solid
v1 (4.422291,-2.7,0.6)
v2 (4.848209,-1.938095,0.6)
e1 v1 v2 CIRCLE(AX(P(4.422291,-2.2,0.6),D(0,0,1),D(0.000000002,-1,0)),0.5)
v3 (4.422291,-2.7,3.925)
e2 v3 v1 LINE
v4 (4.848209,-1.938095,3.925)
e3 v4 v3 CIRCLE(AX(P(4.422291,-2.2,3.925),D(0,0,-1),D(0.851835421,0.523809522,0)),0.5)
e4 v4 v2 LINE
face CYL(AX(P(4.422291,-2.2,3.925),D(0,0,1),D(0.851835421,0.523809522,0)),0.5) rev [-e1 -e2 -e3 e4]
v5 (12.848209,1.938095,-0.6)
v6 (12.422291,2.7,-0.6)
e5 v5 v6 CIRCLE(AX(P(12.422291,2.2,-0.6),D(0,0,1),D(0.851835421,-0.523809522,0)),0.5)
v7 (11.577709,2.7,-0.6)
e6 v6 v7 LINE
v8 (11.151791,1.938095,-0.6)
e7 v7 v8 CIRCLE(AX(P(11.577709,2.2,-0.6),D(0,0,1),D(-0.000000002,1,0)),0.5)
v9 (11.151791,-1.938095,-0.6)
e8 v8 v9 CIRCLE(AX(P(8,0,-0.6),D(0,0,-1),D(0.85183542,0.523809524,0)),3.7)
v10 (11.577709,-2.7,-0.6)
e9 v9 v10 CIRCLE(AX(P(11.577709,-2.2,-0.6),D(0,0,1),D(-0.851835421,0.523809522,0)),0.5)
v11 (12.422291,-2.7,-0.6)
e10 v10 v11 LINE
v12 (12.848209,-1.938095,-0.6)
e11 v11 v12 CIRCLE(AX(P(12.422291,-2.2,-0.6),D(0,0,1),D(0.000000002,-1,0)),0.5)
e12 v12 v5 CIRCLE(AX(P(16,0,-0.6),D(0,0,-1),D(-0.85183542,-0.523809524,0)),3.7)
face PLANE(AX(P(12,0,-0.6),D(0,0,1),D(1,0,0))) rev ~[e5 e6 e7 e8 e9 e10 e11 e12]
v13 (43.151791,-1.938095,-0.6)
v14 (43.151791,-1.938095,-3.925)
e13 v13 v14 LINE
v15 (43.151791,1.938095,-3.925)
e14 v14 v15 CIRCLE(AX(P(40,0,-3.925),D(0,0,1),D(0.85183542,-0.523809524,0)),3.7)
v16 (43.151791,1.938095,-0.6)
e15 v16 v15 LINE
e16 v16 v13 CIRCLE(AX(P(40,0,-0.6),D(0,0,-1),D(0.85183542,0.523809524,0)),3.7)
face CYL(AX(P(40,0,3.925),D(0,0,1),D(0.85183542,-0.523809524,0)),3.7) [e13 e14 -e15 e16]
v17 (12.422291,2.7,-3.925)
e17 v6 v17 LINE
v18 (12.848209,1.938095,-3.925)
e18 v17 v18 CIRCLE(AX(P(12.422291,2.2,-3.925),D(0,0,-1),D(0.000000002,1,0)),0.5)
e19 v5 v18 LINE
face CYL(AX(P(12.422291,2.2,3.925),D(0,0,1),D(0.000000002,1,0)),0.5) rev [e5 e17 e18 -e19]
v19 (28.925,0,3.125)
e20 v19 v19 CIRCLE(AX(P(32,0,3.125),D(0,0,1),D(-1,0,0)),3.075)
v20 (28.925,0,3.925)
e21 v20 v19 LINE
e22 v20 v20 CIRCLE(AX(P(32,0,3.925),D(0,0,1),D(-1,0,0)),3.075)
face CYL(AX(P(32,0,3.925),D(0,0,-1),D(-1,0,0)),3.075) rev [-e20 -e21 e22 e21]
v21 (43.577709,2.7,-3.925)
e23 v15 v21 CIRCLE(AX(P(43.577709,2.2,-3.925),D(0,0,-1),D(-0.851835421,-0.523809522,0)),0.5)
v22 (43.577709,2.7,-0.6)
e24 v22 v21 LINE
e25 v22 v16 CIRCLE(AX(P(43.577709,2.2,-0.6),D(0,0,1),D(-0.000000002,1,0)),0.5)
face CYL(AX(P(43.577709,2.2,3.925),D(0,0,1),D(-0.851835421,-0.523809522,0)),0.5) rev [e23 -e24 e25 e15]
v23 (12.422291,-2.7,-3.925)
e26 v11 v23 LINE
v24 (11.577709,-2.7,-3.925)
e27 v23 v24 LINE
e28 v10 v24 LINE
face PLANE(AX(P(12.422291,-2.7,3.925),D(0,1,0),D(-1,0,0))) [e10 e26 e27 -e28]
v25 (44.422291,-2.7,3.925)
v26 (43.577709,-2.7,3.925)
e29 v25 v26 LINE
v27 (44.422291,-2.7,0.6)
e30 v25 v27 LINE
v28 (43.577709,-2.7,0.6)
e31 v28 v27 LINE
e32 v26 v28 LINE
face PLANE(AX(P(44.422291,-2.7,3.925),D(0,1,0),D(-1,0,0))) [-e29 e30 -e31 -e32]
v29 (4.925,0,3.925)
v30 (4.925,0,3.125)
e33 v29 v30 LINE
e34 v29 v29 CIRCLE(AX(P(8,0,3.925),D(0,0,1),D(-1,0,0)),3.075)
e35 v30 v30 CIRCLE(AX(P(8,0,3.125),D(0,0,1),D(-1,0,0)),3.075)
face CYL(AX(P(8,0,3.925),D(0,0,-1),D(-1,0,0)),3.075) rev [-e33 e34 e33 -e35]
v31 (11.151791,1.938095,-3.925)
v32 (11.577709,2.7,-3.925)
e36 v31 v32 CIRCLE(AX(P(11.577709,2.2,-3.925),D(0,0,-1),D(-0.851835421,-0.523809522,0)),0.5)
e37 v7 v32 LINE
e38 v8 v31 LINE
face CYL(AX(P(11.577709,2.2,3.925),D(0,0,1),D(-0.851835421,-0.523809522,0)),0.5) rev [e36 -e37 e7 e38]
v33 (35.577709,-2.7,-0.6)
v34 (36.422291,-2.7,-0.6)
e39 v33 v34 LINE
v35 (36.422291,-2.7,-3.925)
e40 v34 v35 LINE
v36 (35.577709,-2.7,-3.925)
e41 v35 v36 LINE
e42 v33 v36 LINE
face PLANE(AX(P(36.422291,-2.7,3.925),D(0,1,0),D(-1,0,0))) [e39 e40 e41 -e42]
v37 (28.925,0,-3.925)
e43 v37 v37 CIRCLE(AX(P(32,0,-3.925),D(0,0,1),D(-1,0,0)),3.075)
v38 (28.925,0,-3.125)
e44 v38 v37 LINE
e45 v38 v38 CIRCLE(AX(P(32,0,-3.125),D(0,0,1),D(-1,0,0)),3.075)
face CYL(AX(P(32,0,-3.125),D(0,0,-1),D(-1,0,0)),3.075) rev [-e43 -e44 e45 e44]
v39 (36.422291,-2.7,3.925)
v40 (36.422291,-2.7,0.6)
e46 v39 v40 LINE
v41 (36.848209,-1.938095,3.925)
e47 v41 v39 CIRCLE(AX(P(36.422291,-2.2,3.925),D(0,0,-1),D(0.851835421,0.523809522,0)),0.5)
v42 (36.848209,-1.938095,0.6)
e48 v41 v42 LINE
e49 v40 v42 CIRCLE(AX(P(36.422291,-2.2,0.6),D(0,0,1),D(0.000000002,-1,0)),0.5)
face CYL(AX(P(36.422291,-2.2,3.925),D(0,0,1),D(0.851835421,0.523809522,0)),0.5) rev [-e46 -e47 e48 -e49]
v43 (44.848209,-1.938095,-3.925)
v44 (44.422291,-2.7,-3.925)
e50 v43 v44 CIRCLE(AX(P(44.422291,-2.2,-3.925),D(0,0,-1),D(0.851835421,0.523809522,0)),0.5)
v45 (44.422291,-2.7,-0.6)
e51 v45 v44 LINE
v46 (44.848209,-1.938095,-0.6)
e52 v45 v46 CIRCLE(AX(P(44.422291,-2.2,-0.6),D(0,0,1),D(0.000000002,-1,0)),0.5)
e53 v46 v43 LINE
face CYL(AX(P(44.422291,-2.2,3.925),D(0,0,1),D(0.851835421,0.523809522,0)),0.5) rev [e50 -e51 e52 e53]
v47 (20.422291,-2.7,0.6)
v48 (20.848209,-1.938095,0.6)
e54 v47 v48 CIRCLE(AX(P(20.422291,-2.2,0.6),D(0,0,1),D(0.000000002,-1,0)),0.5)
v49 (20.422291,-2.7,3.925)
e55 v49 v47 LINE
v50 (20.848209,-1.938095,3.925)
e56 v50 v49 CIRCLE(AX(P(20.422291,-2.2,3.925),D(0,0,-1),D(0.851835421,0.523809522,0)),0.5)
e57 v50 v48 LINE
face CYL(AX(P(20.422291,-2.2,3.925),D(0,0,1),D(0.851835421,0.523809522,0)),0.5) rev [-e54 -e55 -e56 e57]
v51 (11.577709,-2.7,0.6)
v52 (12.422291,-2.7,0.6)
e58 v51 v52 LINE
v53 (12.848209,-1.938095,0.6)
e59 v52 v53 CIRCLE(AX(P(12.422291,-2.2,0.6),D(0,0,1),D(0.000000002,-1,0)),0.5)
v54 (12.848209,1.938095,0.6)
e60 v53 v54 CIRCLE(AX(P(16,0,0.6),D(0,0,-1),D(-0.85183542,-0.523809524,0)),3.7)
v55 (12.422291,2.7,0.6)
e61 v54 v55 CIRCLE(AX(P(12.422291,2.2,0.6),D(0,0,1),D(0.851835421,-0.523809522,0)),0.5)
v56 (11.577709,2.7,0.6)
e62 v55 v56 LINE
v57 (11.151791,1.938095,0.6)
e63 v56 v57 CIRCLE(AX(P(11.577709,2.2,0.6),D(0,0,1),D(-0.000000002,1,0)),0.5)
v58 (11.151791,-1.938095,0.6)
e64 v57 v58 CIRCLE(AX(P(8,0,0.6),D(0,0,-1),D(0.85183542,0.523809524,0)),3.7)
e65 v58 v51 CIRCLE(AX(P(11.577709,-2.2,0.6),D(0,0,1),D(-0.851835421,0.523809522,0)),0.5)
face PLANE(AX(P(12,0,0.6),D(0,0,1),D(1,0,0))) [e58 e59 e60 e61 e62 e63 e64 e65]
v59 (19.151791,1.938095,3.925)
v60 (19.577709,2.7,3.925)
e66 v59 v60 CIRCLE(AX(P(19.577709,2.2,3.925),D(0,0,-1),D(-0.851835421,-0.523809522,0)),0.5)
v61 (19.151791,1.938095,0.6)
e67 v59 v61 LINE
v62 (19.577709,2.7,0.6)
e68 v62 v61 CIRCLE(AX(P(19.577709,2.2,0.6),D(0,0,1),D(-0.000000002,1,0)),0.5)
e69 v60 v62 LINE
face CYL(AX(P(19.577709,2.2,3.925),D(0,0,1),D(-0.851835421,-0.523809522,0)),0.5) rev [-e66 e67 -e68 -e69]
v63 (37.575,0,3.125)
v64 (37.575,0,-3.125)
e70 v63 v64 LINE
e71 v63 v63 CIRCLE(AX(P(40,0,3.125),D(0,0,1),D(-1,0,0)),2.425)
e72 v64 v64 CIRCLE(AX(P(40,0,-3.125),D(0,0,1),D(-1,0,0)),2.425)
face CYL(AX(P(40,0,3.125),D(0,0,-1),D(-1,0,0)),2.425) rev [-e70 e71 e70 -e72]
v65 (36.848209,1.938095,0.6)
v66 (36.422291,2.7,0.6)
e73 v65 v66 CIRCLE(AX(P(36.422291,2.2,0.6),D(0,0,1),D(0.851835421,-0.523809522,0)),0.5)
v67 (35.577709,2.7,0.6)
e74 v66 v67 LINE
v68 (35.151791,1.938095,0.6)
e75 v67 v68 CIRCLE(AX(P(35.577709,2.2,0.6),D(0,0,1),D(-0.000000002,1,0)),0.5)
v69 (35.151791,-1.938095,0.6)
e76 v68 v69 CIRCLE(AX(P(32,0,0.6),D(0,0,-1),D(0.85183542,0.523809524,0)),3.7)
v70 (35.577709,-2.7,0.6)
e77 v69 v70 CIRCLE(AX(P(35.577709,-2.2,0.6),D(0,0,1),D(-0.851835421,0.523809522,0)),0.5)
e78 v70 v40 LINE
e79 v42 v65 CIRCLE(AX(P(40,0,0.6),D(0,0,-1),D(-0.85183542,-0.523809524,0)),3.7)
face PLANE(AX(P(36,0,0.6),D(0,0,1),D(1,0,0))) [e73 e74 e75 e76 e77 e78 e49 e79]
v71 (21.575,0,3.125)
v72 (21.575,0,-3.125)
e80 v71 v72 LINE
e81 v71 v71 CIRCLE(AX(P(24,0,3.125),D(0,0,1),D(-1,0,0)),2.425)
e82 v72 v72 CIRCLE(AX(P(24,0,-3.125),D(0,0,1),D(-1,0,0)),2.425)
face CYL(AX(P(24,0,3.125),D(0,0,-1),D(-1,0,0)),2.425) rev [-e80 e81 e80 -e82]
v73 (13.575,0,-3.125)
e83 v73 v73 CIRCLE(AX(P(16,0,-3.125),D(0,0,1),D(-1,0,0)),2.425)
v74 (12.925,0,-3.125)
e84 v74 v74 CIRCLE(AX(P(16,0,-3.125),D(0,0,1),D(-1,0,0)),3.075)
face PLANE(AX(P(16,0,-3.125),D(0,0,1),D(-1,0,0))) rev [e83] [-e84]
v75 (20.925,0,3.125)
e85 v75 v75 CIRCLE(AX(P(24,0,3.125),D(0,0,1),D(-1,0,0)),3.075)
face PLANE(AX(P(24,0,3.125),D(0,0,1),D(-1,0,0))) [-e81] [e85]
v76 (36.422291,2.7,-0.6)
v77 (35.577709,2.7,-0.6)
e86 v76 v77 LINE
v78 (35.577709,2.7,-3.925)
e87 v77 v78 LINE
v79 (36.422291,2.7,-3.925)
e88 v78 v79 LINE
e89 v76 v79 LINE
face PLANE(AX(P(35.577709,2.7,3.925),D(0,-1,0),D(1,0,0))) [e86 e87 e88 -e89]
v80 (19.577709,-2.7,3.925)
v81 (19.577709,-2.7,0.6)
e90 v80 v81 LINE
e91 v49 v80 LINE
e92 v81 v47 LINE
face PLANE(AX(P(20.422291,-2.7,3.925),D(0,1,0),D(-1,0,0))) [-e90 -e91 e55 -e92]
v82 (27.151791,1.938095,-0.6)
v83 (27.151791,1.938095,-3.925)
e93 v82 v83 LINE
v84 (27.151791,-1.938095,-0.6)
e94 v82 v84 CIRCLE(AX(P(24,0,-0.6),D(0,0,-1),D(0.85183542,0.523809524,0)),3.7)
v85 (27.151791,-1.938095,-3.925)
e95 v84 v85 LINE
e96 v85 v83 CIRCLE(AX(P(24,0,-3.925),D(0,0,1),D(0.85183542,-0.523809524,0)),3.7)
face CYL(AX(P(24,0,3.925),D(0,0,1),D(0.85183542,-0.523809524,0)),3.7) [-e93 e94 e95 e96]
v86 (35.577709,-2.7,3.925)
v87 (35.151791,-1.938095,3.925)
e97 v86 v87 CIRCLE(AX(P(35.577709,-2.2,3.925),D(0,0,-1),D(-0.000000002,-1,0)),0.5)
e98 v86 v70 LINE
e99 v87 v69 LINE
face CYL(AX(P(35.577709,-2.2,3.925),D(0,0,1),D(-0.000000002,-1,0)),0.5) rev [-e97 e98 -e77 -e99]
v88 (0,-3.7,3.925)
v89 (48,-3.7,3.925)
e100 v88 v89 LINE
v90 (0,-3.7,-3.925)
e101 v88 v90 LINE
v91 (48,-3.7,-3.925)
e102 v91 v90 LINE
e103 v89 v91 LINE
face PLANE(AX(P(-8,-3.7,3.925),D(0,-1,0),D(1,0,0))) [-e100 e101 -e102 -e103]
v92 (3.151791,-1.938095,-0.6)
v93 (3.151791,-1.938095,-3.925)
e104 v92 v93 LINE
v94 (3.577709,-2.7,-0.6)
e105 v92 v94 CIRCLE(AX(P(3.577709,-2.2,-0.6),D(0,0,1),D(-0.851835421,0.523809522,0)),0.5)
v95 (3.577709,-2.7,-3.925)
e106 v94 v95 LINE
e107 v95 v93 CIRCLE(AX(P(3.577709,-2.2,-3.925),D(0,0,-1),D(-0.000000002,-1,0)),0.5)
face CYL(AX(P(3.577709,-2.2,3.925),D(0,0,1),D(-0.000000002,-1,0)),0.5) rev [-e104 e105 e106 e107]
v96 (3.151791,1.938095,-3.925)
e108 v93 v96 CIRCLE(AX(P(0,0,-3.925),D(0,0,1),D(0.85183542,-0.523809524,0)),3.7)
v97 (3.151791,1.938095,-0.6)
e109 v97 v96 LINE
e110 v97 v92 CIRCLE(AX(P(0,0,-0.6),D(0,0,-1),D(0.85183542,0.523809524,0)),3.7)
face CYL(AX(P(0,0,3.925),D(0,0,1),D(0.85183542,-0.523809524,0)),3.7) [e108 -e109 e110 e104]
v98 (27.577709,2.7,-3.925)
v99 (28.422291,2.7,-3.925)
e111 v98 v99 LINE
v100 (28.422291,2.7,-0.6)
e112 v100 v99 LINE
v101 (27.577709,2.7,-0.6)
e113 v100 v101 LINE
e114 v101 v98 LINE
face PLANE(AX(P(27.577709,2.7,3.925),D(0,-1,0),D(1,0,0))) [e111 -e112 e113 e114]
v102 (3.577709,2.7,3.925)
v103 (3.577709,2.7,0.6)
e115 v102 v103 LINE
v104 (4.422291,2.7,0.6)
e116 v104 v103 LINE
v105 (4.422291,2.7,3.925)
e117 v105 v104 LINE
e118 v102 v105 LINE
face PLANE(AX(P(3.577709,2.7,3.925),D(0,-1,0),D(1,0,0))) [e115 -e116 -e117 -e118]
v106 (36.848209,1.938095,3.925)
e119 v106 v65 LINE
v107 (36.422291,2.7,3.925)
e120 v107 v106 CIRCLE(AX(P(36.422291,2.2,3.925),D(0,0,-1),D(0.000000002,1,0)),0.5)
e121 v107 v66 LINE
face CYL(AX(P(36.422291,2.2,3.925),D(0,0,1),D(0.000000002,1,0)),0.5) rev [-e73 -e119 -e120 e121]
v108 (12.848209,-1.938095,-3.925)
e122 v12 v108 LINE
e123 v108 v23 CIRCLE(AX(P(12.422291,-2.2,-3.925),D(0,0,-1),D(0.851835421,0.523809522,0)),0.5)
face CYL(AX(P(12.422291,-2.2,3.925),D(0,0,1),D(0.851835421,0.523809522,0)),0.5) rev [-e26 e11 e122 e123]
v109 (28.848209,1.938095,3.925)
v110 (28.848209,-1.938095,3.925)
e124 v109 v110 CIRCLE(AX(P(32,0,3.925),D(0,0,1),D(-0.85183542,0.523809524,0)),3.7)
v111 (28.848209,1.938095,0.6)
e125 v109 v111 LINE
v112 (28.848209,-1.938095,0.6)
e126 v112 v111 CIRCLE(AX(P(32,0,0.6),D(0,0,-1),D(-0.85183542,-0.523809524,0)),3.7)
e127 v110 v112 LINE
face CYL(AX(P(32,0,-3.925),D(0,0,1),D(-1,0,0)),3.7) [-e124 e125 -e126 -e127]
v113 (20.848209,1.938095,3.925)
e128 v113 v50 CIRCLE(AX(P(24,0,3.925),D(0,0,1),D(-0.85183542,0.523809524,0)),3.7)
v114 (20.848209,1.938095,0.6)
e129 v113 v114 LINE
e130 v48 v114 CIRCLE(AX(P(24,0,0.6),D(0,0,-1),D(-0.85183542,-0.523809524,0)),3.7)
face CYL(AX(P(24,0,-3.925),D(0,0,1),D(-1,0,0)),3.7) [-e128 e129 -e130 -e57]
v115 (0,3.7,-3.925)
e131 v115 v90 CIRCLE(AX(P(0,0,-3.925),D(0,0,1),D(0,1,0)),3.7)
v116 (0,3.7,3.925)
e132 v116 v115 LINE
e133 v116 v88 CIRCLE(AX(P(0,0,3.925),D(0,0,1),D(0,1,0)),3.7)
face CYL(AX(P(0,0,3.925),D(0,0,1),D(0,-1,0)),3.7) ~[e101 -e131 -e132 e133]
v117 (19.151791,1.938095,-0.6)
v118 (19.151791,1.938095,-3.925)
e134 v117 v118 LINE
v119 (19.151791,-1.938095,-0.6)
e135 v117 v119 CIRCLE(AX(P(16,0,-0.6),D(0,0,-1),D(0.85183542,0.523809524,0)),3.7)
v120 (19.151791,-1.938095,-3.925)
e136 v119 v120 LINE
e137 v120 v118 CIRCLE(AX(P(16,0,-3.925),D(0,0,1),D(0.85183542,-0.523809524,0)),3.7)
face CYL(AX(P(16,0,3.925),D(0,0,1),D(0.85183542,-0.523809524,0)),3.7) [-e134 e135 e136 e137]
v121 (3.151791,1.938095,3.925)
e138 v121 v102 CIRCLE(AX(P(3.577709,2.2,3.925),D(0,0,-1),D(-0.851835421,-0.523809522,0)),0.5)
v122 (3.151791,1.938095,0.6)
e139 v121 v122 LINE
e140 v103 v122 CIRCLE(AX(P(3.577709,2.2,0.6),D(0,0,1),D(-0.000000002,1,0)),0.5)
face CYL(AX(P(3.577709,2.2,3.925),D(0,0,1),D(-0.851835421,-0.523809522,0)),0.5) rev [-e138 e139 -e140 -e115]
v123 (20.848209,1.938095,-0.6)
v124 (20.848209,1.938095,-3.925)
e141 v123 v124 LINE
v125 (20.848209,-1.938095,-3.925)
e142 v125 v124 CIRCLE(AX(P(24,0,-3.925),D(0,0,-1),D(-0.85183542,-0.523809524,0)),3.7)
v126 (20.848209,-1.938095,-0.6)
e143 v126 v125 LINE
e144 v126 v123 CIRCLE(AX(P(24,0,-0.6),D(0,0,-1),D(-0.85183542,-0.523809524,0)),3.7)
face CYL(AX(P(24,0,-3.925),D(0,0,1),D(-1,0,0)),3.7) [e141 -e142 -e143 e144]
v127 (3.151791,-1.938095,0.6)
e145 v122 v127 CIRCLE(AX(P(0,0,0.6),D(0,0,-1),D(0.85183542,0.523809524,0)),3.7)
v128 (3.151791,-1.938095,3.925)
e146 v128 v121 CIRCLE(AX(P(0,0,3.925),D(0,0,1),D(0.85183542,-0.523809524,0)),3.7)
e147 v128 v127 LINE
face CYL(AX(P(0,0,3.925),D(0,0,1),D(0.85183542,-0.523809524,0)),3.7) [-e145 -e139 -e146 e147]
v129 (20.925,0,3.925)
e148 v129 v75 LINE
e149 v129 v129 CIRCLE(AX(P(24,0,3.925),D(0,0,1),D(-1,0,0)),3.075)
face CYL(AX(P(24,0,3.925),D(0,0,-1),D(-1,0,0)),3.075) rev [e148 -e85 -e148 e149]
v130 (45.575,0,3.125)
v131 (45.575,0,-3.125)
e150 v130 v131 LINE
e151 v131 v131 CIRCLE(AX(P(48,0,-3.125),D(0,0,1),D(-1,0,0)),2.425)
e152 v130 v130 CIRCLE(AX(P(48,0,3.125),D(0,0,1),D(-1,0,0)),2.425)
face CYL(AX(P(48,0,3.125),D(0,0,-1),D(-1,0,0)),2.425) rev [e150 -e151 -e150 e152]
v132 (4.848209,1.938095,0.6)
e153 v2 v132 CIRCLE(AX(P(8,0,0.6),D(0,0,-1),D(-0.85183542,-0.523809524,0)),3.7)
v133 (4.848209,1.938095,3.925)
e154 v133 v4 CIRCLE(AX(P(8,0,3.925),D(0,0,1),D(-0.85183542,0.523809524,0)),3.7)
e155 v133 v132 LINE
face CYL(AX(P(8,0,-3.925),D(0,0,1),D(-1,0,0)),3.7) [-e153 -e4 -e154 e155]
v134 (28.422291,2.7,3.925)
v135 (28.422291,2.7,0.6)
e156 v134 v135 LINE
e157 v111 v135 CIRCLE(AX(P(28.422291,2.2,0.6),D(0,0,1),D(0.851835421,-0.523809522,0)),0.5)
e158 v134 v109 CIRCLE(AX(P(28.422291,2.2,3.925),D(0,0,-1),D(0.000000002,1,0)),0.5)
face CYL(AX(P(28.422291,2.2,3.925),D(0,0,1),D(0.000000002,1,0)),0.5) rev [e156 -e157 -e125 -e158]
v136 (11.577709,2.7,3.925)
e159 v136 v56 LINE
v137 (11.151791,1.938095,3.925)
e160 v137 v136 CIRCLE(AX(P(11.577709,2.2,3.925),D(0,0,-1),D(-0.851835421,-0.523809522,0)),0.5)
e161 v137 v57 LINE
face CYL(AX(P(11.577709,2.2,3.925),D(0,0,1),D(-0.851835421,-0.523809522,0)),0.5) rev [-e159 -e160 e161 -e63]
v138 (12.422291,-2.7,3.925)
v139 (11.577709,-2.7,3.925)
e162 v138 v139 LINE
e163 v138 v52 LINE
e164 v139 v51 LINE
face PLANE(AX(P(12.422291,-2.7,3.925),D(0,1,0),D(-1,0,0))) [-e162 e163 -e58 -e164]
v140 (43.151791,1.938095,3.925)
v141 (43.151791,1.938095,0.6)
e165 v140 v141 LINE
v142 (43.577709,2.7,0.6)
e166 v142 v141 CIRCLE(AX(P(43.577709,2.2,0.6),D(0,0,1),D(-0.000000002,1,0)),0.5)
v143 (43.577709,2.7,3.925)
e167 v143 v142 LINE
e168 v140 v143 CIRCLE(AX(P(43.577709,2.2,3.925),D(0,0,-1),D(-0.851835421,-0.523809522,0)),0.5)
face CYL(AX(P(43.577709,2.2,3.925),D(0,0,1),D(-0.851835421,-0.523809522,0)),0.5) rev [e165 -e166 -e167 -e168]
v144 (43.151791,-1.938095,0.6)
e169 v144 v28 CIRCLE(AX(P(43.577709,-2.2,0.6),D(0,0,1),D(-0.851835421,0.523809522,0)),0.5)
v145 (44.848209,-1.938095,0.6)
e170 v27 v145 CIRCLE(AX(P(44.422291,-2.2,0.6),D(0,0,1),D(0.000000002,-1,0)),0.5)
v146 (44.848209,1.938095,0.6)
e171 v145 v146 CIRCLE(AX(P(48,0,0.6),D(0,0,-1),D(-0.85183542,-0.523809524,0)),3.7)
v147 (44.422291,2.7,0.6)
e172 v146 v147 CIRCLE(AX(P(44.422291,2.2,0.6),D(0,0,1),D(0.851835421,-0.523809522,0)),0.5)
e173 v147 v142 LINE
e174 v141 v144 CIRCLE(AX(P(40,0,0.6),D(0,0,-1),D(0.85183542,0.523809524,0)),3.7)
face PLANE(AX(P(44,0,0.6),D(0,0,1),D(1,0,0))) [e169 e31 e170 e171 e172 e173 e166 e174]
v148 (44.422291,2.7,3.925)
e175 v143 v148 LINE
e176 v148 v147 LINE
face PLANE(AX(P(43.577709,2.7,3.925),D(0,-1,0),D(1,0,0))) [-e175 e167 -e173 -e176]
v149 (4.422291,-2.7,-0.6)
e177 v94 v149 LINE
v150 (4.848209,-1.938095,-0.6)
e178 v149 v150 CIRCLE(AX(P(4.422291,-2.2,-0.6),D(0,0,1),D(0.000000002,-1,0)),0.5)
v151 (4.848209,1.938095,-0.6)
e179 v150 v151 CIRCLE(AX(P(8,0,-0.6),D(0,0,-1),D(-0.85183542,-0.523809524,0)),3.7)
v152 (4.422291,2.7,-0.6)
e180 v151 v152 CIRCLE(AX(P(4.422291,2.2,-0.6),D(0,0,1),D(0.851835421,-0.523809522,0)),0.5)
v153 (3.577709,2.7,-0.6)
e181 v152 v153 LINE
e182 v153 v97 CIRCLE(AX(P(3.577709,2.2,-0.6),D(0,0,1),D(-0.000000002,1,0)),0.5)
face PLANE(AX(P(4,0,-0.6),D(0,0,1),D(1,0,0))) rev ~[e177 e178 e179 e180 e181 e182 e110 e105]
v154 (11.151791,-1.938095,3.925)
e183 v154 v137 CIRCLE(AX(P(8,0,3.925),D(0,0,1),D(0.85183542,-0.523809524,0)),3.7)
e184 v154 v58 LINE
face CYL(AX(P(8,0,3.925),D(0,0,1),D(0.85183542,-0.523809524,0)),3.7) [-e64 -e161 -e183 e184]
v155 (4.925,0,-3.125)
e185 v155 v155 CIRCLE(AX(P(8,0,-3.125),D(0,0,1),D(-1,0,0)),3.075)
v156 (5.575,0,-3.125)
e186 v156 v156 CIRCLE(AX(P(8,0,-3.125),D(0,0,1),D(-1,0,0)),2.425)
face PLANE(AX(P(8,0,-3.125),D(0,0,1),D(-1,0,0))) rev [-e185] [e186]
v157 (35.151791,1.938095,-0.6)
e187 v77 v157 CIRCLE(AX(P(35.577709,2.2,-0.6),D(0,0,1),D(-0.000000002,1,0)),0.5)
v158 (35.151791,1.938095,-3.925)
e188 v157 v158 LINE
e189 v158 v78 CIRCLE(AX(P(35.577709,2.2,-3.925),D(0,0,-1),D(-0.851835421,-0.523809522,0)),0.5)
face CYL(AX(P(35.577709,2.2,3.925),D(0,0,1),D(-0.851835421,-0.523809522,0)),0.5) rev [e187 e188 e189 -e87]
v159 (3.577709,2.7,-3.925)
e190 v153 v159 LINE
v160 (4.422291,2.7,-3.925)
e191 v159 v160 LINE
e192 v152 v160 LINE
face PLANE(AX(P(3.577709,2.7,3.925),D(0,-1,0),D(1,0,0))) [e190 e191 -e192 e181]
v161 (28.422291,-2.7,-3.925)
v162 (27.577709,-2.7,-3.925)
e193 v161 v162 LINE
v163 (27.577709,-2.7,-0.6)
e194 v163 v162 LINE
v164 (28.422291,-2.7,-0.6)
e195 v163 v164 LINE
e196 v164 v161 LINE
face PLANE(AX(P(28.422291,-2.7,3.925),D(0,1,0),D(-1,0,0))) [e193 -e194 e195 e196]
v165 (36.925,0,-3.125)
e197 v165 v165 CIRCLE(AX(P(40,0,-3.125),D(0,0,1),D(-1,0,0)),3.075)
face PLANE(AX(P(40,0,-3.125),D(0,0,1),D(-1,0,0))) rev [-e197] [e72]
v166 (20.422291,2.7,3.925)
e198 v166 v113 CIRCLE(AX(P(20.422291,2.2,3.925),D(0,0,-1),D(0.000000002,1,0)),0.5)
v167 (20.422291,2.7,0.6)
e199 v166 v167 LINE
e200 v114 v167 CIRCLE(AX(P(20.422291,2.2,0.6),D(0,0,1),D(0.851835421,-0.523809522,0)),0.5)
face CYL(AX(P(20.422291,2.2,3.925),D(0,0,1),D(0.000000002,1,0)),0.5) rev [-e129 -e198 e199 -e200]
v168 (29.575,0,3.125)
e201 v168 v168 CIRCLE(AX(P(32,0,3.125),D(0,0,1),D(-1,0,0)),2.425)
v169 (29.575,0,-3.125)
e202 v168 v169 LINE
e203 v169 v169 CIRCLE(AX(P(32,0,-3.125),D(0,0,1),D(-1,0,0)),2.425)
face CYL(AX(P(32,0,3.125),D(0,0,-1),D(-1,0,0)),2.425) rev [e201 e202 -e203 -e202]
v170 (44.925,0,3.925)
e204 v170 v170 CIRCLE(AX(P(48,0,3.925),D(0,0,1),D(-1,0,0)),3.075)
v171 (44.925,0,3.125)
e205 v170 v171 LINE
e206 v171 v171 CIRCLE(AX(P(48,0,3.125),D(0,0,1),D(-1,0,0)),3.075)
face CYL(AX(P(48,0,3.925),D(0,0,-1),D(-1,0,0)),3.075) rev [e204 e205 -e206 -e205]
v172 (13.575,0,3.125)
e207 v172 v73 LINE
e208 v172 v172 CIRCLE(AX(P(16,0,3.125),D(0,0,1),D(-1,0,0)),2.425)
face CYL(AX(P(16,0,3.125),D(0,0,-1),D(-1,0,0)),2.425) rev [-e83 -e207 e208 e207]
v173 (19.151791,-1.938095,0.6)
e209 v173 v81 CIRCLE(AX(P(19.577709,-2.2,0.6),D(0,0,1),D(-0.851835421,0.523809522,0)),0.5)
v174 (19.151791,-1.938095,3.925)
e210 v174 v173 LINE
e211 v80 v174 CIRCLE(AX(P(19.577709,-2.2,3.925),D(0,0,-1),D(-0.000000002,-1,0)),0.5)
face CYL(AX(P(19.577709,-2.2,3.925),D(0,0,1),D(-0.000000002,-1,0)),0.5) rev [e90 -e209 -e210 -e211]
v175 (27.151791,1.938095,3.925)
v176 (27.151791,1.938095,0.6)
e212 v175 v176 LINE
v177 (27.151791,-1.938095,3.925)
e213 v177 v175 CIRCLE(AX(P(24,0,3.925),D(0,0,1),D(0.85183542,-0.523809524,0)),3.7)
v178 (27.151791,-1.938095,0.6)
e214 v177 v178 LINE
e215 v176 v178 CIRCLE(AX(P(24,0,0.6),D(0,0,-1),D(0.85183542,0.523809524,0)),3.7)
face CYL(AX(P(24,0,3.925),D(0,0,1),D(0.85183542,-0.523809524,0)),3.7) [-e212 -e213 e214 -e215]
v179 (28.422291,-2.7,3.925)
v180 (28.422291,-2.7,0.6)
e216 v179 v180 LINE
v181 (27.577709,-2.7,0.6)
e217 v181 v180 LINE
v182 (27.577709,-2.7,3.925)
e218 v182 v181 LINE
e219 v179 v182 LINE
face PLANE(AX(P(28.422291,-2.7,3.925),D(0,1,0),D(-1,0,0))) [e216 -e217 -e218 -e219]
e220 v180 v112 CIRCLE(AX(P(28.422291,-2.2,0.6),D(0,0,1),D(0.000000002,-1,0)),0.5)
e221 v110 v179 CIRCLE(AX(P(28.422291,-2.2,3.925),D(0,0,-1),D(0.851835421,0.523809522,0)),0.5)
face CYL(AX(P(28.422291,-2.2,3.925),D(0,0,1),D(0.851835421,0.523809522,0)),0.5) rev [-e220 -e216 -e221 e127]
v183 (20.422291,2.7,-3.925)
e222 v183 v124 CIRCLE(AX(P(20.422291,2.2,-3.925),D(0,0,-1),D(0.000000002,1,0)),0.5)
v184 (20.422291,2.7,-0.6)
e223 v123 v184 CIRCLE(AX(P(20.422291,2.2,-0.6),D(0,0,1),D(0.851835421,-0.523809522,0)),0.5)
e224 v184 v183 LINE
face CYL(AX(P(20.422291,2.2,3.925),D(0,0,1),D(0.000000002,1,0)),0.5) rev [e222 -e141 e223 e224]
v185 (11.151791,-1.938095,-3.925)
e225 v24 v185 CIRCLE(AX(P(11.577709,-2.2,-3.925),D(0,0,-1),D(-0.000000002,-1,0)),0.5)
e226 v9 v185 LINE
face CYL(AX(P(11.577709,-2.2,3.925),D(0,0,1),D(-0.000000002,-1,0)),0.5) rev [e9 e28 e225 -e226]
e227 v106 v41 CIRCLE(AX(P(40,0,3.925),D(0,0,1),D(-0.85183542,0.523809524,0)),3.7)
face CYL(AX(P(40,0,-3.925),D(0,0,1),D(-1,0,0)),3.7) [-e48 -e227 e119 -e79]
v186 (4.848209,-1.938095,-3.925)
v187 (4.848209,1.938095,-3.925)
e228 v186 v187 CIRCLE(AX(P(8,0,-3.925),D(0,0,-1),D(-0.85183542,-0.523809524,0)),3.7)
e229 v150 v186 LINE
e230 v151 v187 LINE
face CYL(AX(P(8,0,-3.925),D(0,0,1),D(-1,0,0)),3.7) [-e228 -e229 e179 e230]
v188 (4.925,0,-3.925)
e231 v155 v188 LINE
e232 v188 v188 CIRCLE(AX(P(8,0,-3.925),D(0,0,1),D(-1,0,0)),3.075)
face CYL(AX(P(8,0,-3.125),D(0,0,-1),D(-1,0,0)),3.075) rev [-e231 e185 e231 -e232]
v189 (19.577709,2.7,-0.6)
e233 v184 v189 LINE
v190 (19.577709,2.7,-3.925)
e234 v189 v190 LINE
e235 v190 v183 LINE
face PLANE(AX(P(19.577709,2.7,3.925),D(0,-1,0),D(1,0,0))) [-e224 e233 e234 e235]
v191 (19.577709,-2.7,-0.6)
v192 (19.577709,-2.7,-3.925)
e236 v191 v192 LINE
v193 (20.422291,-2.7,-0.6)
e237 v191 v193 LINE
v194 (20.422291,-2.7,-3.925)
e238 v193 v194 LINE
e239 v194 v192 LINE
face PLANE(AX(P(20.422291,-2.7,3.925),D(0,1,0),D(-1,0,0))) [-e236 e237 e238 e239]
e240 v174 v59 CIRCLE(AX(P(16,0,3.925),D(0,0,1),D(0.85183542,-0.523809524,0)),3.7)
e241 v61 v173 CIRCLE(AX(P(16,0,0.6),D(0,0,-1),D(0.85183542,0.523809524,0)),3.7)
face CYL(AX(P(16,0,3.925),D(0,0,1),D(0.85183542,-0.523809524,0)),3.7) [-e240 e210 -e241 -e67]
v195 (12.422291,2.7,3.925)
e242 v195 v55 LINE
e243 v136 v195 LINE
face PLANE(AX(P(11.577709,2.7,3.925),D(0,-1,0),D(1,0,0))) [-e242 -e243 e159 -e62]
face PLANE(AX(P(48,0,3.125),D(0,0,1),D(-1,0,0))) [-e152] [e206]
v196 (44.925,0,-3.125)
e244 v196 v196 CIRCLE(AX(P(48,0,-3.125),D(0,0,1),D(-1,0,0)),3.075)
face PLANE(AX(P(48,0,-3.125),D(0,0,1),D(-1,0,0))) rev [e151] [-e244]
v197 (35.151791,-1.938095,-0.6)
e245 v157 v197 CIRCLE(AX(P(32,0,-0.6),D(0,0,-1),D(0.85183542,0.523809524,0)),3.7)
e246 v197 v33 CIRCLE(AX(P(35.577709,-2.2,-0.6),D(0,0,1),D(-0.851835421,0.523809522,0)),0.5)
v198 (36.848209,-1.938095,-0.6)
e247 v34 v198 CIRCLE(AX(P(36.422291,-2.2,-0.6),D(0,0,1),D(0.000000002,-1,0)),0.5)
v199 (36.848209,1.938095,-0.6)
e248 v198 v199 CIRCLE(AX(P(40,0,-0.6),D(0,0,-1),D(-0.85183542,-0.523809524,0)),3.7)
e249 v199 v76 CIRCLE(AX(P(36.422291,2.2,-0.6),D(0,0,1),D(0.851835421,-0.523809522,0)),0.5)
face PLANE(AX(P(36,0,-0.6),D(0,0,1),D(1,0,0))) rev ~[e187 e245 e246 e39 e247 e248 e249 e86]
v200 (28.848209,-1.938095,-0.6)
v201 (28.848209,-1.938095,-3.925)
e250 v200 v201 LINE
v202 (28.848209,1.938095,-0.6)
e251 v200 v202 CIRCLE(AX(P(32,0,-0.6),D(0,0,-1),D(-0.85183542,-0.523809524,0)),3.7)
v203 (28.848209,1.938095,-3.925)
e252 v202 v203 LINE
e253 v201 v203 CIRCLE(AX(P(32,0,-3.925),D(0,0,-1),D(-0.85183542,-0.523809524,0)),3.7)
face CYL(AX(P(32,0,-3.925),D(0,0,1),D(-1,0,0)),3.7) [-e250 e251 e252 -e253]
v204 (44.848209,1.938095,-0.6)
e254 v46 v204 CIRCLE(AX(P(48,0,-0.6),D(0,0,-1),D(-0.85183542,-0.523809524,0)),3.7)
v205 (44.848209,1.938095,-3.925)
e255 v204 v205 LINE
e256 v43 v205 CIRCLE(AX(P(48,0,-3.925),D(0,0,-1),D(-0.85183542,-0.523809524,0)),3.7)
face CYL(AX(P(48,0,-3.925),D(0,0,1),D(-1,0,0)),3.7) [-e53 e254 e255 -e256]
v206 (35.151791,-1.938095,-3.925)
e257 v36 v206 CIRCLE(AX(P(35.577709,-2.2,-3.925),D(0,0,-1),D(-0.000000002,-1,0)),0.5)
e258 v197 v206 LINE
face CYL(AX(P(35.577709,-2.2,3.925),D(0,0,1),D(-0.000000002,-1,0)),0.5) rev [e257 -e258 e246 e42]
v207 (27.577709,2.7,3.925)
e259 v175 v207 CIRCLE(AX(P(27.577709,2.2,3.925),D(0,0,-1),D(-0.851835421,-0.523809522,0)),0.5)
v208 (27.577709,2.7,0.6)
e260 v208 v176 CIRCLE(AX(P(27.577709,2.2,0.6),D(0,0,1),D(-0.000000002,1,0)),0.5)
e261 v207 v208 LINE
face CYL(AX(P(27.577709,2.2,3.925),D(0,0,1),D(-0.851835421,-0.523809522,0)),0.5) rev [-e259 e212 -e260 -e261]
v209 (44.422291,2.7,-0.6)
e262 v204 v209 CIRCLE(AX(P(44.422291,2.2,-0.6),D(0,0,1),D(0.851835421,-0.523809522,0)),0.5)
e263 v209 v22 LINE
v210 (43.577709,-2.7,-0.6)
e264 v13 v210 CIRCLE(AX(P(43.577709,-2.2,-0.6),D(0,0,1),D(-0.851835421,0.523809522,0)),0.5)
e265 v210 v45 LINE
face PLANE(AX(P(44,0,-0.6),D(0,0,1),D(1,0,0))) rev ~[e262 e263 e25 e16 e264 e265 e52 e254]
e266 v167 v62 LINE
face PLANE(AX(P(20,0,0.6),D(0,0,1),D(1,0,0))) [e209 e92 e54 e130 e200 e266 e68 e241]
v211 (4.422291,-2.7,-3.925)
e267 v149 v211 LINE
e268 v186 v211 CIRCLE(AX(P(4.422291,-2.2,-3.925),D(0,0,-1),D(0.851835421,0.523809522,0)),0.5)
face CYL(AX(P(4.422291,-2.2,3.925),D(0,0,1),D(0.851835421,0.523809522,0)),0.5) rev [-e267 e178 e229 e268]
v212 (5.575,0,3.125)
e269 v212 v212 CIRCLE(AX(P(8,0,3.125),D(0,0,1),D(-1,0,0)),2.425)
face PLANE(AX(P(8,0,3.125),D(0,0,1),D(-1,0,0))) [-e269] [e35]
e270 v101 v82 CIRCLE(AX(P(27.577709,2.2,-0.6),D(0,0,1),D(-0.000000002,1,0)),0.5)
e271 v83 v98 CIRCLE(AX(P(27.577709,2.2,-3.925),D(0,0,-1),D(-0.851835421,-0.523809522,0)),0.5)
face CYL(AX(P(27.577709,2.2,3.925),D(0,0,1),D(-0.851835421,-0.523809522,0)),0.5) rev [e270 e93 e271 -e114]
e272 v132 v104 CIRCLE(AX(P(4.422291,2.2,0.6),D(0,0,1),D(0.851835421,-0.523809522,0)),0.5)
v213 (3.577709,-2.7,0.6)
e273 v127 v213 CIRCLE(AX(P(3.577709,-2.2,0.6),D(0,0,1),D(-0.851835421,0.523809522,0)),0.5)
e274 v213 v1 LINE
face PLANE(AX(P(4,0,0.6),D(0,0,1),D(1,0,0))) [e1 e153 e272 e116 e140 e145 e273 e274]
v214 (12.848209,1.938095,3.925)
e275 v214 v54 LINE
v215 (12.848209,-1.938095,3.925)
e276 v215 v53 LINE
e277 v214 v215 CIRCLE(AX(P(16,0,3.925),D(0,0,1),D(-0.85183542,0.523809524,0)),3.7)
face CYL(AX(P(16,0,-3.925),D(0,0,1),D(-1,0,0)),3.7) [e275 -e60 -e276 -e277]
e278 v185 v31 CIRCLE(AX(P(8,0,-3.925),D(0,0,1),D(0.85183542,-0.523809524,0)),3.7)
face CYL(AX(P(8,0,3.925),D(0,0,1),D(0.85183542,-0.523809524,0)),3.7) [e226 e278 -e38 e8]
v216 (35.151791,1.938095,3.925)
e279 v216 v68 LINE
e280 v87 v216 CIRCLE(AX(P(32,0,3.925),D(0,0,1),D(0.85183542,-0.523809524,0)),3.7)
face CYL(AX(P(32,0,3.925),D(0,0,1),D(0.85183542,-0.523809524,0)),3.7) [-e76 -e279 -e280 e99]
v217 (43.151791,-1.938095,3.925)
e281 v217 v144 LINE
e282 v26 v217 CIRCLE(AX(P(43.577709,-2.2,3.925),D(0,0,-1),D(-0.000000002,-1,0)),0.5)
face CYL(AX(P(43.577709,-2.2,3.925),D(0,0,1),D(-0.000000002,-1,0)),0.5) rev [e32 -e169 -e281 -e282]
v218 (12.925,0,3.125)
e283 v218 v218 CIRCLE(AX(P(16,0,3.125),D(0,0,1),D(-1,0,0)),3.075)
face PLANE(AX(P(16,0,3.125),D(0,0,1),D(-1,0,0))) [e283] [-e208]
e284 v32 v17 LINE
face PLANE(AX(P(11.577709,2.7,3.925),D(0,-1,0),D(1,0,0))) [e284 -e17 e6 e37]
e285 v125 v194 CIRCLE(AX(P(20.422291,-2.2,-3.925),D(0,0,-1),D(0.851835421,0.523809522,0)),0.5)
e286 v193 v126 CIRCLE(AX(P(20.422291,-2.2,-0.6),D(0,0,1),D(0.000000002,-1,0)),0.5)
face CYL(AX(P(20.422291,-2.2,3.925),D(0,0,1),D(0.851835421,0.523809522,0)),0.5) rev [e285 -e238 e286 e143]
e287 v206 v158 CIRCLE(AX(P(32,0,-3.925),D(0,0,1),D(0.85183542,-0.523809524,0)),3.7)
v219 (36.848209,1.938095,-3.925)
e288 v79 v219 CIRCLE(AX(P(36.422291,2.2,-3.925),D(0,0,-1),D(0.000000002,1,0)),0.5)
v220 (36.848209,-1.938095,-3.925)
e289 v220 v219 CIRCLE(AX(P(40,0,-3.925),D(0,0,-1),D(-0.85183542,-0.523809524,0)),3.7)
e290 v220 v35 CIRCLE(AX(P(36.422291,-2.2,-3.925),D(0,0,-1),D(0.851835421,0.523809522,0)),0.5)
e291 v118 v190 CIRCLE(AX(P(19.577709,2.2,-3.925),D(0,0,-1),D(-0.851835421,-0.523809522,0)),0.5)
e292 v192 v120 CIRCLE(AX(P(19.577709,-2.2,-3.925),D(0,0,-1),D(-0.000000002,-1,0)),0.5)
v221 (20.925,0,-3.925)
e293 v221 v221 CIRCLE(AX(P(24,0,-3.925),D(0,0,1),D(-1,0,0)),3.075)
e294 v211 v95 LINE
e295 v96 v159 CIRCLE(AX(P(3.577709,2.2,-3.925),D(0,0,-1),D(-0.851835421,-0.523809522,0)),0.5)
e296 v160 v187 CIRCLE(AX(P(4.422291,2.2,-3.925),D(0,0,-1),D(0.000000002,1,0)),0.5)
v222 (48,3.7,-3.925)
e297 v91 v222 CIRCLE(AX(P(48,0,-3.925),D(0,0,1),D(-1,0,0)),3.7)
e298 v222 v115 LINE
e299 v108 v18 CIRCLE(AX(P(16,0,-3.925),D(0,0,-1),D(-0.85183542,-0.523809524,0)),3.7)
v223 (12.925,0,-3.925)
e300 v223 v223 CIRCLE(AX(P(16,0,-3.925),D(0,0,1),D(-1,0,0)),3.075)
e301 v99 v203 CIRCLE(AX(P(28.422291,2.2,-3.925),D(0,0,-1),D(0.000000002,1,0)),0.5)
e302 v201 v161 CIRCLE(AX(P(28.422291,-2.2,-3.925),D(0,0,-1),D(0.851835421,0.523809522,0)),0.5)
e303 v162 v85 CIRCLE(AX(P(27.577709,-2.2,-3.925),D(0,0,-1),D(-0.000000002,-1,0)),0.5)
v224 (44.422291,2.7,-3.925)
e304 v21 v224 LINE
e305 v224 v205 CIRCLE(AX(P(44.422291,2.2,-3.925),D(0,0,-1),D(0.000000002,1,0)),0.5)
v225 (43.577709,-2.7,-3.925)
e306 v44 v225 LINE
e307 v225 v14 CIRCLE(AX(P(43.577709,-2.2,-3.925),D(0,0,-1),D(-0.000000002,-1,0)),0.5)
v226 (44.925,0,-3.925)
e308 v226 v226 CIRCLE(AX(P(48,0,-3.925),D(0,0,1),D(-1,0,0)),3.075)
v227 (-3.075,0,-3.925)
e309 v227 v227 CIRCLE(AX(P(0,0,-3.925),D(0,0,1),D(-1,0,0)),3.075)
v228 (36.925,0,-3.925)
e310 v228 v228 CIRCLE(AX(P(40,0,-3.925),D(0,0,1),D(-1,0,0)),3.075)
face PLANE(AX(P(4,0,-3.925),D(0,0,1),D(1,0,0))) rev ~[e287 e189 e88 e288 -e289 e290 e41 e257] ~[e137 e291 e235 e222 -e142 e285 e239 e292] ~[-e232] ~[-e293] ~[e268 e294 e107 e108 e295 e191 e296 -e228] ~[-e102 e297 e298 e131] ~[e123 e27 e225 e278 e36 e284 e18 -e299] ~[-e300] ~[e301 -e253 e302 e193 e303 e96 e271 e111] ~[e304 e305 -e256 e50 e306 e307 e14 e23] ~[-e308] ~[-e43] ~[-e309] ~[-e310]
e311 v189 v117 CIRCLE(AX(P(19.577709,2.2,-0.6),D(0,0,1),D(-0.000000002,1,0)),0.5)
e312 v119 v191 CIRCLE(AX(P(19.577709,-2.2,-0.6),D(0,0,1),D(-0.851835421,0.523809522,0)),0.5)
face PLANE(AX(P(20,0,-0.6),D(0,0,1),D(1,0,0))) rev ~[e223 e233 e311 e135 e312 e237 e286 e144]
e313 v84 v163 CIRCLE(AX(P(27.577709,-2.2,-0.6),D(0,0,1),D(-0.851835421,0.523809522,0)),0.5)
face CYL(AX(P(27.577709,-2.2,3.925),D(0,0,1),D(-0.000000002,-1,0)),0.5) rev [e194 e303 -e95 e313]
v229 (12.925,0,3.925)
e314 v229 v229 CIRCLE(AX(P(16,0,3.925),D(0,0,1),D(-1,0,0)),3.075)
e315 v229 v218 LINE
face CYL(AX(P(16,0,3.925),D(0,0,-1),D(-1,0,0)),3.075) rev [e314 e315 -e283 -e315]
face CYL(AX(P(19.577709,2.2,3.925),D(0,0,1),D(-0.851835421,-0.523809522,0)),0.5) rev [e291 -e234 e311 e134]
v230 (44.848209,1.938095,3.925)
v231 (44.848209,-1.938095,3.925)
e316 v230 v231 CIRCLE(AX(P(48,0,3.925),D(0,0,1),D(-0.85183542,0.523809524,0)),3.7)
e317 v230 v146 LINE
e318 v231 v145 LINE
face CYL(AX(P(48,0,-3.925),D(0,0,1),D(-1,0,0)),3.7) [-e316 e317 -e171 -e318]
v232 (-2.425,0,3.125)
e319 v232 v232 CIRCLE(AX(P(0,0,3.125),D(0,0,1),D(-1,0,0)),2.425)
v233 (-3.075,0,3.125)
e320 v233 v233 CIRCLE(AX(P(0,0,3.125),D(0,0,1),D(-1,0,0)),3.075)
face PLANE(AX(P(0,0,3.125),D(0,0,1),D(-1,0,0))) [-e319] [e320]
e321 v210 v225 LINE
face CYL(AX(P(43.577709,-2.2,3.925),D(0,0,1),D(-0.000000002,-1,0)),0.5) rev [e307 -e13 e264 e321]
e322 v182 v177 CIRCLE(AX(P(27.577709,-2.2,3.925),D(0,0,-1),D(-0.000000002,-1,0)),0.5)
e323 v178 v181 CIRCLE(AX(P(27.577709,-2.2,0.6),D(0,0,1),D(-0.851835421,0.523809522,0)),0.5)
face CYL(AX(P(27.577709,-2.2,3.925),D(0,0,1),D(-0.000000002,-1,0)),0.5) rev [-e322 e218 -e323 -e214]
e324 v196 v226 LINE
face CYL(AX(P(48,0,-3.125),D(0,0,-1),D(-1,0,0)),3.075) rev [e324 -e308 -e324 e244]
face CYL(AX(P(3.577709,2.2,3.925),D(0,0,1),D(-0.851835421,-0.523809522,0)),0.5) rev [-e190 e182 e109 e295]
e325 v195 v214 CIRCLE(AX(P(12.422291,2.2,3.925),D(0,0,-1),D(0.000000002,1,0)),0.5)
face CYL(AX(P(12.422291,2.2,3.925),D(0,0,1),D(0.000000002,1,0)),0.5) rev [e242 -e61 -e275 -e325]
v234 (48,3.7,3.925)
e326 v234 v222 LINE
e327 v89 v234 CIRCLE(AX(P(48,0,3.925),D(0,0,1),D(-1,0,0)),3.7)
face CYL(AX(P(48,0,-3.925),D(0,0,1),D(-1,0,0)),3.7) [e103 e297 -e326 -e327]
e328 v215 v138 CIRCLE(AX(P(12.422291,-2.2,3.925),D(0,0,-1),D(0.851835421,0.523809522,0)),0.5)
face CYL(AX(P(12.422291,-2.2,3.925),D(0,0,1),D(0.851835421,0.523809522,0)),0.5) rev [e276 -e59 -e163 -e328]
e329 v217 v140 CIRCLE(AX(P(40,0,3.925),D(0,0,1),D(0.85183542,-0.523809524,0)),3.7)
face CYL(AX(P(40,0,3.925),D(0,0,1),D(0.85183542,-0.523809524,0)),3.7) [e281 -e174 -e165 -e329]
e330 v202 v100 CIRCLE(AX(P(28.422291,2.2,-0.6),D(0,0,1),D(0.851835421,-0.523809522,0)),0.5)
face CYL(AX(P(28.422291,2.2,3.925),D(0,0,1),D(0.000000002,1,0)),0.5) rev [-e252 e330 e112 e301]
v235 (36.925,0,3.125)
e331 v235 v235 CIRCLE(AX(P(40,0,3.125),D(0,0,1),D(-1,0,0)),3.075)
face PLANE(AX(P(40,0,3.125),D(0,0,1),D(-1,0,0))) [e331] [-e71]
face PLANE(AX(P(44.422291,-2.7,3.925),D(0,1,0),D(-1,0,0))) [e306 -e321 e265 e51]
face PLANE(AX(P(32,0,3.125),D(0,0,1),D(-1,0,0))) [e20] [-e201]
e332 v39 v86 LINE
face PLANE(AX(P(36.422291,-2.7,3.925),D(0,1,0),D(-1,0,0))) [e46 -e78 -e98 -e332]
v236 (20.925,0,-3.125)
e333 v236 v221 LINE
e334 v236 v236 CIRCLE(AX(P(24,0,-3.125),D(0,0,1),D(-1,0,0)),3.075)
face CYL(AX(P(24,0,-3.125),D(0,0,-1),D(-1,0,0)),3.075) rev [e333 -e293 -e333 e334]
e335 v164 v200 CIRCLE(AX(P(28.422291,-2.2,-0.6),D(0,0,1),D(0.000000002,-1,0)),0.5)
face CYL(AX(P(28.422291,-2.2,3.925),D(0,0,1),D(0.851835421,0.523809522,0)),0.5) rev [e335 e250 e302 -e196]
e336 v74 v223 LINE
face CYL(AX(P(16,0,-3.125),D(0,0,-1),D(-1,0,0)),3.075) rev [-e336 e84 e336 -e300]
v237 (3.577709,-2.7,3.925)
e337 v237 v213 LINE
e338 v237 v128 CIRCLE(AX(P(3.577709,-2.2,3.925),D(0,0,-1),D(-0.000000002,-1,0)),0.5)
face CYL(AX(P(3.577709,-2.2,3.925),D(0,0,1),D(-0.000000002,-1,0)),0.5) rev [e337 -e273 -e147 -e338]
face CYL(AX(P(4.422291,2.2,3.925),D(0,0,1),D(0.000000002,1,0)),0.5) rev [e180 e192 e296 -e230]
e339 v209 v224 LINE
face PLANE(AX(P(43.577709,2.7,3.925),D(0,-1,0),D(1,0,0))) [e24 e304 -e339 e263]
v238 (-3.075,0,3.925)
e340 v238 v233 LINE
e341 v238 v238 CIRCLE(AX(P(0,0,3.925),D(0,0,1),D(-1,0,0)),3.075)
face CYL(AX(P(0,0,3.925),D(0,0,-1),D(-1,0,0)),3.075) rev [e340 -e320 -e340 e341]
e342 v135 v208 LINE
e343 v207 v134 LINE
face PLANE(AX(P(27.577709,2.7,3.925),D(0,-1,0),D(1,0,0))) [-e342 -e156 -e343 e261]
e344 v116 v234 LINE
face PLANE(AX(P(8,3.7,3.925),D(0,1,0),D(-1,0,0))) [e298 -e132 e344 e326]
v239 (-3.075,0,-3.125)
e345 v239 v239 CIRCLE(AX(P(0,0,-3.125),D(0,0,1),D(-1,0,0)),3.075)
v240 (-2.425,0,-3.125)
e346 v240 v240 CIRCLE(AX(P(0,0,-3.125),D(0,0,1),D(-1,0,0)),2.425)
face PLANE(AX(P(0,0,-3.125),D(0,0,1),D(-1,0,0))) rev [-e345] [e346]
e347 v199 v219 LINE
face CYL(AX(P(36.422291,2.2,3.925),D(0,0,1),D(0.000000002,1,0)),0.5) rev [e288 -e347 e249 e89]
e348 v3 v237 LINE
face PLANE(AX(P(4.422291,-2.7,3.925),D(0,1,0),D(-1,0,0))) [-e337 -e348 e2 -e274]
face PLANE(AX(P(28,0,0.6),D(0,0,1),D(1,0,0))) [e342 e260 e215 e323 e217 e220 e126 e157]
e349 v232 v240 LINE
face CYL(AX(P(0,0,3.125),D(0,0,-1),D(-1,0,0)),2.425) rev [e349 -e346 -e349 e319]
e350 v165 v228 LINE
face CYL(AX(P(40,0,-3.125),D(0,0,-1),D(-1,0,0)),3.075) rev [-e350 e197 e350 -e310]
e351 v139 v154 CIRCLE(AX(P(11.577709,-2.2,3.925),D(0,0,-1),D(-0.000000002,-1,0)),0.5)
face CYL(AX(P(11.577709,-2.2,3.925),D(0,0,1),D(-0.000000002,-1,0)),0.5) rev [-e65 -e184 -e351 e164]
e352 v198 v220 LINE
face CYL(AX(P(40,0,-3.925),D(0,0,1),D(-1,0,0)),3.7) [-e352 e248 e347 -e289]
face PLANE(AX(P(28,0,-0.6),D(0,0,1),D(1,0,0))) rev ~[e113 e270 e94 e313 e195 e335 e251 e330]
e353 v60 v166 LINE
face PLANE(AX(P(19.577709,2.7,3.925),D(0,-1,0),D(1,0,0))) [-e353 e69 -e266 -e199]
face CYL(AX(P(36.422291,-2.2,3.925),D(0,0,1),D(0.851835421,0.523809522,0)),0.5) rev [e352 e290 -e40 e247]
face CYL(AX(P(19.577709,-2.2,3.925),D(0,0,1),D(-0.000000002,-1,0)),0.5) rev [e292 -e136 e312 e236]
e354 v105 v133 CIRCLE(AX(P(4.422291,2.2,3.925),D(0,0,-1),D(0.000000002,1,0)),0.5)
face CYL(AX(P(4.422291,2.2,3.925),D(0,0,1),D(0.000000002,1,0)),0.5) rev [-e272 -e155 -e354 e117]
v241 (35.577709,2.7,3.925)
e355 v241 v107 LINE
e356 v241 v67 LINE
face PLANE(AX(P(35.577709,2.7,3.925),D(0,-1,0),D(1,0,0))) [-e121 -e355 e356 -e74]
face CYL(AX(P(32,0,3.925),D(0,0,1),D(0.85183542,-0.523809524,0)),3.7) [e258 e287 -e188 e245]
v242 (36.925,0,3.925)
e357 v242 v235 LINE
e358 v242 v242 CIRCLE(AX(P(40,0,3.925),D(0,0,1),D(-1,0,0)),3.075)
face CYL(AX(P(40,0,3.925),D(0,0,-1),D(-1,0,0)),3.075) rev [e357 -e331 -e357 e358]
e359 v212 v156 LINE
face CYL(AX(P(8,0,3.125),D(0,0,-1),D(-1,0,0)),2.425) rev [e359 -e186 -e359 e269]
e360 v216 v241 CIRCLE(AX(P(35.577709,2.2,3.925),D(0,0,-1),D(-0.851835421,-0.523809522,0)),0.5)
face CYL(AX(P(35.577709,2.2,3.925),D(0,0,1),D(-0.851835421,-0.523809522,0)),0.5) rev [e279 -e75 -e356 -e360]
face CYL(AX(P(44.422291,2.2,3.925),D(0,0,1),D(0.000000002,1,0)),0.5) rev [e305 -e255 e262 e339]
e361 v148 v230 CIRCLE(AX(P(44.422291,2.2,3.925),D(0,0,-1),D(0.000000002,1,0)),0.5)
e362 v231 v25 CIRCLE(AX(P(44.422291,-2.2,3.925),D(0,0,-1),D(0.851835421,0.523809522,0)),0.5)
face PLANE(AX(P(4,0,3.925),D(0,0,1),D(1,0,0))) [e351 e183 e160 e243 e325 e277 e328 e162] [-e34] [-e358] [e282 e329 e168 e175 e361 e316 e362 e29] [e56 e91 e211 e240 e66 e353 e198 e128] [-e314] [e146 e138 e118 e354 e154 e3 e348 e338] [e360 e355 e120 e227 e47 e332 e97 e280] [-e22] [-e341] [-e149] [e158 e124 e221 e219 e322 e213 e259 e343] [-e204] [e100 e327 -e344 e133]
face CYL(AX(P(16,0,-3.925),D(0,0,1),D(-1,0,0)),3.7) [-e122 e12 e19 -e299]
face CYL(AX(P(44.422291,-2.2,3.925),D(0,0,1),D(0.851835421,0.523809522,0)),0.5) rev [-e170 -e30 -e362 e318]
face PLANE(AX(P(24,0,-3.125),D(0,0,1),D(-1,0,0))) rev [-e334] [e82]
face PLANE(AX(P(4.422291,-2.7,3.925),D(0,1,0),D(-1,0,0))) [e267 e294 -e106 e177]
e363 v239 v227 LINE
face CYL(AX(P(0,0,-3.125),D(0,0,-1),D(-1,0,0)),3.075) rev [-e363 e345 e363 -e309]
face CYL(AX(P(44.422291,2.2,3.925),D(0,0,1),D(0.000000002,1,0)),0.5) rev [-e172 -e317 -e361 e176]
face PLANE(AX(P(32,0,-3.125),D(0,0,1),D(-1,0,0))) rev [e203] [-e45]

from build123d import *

# Parameters (mm, degrees)
BOSS_EXTRUDE1_DEPTH = 7.85
BOSS_EXTRUDE2_DEPTH = 0.6
LPATTERN1_COUNT     = 7
LPATTERN1_PITCH     = 8
CUT_EXTRUDE1_DEPTH  = 53.423301117


with BuildPart() as part:
    # Sketch1 → Revolve1 (revolve)
    with BuildSketch(Plane(origin=(0, 0, 0), x_dir=(1, 0, 0), z_dir=(0, 1, 0))):
        Polygon((-3.7, 3.925), (-3.7, -3.925), (-3.075, -3.925), (-3.075, -3.125), (-2.425, -3.125), (-2.425, 3.125), (-3.075, 3.125), (-3.075, 3.925), align=None)
    revolve1 = revolve(axis=Axis((0, 0, -2.425), (0, 0, 1)))

    # Sketch2 → Boss-Extrude1 (add)
    with BuildSketch(Plane.XY.offset(3.925)):
        with BuildLine():
            Line((0, 3.7), (-8, 3.7))
            Line((-8, 3.7), (-8, 3.2))
            ThreePointArc((-8, 3.2), (-4.8, 0), (-8, -3.2))
            Line((-8, -3.2), (-8, -3.7))
            Line((-8, -3.7), (0, -3.7))
            Line((0, -3.7), (0, -3.2))
            ThreePointArc((0, -3.2), (-3.2, 0), (0, 3.2))
            Line((0, 3.2), (0, 3.7))
        make_face()
        with BuildLine():
            Line((-3.577708764, -2.7), (-4.422291236, -2.7))
            ThreePointArc((-4.422291236, -2.7), (-4.858727016, -2.443975018), (-4.848208946, -1.938095238))
            ThreePointArc((-4.848208946, -1.938095238), (-4.3, 0), (-4.848208946, 1.938095238))
            ThreePointArc((-4.848208946, 1.938095238), (-4.858727016, 2.443975018), (-4.422291236, 2.7))
            Line((-4.422291236, 2.7), (-3.577708764, 2.7))
            ThreePointArc((-3.577708764, 2.7), (-3.141272984, 2.443975018), (-3.151791054, 1.938095238))
            ThreePointArc((-3.151791054, 1.938095238), (-3.7, 0), (-3.151791054, -1.938095238))
            ThreePointArc((-3.151791054, -1.938095238), (-3.141272984, -2.443975018), (-3.577708764, -2.7))
        make_face(mode=Mode.SUBTRACT)
    boss_extrude1 = extrude(amount=-BOSS_EXTRUDE1_DEPTH)

    # Sketch3 → Boss-Extrude2 (add, symmetric)
    with BuildSketch(Plane.XY):
        with BuildLine():
            Line((-3.577708764, 2.7), (-4.422291236, 2.7))
            ThreePointArc((-4.422291236, 2.7), (-4.858727016, 2.443975018), (-4.848208946, 1.938095238))
            ThreePointArc((-4.848208946, 1.938095238), (-4.3, 0), (-4.848208946, -1.938095238))
            ThreePointArc((-4.848208946, -1.938095238), (-4.858727016, -2.443975018), (-4.422291236, -2.7))
            Line((-4.422291236, -2.7), (-3.577708764, -2.7))
            ThreePointArc((-3.577708764, -2.7), (-3.141272984, -2.443975018), (-3.151791054, -1.938095238))
            ThreePointArc((-3.151791054, -1.938095238), (-3.7, 0), (-3.151791054, 1.938095238))
            ThreePointArc((-3.151791054, 1.938095238), (-3.141272984, 2.443975018), (-3.577708764, 2.7))
        make_face()
    boss_extrude2 = extrude(amount=BOSS_EXTRUDE2_DEPTH, both=True)

    # LPattern1: Revolve1, Boss-Extrude1, Boss-Extrude2 ×7
    with Locations(*[(i * LPATTERN1_PITCH, 0, 0) for i in range(1, LPATTERN1_COUNT)]):
        add(revolve1)
        add(boss_extrude1)
        add(boss_extrude2)

    # Sketch4 → Cut-Extrude1 (cut, through all)
    with BuildSketch(Plane.XY.offset(3.925)):
        with BuildLine():
            Line((0, 3.7), (-8, 3.7))
            Line((-8, 3.7), (-8, -3.7))
            Line((-8, -3.7), (0, -3.7))
            ThreePointArc((0, -3.7), (-3.7, 0), (0, 3.7))
        make_face()
    extrude(amount=-CUT_EXTRUDE1_DEPTH, mode=Mode.SUBTRACT)


solid = part.part
